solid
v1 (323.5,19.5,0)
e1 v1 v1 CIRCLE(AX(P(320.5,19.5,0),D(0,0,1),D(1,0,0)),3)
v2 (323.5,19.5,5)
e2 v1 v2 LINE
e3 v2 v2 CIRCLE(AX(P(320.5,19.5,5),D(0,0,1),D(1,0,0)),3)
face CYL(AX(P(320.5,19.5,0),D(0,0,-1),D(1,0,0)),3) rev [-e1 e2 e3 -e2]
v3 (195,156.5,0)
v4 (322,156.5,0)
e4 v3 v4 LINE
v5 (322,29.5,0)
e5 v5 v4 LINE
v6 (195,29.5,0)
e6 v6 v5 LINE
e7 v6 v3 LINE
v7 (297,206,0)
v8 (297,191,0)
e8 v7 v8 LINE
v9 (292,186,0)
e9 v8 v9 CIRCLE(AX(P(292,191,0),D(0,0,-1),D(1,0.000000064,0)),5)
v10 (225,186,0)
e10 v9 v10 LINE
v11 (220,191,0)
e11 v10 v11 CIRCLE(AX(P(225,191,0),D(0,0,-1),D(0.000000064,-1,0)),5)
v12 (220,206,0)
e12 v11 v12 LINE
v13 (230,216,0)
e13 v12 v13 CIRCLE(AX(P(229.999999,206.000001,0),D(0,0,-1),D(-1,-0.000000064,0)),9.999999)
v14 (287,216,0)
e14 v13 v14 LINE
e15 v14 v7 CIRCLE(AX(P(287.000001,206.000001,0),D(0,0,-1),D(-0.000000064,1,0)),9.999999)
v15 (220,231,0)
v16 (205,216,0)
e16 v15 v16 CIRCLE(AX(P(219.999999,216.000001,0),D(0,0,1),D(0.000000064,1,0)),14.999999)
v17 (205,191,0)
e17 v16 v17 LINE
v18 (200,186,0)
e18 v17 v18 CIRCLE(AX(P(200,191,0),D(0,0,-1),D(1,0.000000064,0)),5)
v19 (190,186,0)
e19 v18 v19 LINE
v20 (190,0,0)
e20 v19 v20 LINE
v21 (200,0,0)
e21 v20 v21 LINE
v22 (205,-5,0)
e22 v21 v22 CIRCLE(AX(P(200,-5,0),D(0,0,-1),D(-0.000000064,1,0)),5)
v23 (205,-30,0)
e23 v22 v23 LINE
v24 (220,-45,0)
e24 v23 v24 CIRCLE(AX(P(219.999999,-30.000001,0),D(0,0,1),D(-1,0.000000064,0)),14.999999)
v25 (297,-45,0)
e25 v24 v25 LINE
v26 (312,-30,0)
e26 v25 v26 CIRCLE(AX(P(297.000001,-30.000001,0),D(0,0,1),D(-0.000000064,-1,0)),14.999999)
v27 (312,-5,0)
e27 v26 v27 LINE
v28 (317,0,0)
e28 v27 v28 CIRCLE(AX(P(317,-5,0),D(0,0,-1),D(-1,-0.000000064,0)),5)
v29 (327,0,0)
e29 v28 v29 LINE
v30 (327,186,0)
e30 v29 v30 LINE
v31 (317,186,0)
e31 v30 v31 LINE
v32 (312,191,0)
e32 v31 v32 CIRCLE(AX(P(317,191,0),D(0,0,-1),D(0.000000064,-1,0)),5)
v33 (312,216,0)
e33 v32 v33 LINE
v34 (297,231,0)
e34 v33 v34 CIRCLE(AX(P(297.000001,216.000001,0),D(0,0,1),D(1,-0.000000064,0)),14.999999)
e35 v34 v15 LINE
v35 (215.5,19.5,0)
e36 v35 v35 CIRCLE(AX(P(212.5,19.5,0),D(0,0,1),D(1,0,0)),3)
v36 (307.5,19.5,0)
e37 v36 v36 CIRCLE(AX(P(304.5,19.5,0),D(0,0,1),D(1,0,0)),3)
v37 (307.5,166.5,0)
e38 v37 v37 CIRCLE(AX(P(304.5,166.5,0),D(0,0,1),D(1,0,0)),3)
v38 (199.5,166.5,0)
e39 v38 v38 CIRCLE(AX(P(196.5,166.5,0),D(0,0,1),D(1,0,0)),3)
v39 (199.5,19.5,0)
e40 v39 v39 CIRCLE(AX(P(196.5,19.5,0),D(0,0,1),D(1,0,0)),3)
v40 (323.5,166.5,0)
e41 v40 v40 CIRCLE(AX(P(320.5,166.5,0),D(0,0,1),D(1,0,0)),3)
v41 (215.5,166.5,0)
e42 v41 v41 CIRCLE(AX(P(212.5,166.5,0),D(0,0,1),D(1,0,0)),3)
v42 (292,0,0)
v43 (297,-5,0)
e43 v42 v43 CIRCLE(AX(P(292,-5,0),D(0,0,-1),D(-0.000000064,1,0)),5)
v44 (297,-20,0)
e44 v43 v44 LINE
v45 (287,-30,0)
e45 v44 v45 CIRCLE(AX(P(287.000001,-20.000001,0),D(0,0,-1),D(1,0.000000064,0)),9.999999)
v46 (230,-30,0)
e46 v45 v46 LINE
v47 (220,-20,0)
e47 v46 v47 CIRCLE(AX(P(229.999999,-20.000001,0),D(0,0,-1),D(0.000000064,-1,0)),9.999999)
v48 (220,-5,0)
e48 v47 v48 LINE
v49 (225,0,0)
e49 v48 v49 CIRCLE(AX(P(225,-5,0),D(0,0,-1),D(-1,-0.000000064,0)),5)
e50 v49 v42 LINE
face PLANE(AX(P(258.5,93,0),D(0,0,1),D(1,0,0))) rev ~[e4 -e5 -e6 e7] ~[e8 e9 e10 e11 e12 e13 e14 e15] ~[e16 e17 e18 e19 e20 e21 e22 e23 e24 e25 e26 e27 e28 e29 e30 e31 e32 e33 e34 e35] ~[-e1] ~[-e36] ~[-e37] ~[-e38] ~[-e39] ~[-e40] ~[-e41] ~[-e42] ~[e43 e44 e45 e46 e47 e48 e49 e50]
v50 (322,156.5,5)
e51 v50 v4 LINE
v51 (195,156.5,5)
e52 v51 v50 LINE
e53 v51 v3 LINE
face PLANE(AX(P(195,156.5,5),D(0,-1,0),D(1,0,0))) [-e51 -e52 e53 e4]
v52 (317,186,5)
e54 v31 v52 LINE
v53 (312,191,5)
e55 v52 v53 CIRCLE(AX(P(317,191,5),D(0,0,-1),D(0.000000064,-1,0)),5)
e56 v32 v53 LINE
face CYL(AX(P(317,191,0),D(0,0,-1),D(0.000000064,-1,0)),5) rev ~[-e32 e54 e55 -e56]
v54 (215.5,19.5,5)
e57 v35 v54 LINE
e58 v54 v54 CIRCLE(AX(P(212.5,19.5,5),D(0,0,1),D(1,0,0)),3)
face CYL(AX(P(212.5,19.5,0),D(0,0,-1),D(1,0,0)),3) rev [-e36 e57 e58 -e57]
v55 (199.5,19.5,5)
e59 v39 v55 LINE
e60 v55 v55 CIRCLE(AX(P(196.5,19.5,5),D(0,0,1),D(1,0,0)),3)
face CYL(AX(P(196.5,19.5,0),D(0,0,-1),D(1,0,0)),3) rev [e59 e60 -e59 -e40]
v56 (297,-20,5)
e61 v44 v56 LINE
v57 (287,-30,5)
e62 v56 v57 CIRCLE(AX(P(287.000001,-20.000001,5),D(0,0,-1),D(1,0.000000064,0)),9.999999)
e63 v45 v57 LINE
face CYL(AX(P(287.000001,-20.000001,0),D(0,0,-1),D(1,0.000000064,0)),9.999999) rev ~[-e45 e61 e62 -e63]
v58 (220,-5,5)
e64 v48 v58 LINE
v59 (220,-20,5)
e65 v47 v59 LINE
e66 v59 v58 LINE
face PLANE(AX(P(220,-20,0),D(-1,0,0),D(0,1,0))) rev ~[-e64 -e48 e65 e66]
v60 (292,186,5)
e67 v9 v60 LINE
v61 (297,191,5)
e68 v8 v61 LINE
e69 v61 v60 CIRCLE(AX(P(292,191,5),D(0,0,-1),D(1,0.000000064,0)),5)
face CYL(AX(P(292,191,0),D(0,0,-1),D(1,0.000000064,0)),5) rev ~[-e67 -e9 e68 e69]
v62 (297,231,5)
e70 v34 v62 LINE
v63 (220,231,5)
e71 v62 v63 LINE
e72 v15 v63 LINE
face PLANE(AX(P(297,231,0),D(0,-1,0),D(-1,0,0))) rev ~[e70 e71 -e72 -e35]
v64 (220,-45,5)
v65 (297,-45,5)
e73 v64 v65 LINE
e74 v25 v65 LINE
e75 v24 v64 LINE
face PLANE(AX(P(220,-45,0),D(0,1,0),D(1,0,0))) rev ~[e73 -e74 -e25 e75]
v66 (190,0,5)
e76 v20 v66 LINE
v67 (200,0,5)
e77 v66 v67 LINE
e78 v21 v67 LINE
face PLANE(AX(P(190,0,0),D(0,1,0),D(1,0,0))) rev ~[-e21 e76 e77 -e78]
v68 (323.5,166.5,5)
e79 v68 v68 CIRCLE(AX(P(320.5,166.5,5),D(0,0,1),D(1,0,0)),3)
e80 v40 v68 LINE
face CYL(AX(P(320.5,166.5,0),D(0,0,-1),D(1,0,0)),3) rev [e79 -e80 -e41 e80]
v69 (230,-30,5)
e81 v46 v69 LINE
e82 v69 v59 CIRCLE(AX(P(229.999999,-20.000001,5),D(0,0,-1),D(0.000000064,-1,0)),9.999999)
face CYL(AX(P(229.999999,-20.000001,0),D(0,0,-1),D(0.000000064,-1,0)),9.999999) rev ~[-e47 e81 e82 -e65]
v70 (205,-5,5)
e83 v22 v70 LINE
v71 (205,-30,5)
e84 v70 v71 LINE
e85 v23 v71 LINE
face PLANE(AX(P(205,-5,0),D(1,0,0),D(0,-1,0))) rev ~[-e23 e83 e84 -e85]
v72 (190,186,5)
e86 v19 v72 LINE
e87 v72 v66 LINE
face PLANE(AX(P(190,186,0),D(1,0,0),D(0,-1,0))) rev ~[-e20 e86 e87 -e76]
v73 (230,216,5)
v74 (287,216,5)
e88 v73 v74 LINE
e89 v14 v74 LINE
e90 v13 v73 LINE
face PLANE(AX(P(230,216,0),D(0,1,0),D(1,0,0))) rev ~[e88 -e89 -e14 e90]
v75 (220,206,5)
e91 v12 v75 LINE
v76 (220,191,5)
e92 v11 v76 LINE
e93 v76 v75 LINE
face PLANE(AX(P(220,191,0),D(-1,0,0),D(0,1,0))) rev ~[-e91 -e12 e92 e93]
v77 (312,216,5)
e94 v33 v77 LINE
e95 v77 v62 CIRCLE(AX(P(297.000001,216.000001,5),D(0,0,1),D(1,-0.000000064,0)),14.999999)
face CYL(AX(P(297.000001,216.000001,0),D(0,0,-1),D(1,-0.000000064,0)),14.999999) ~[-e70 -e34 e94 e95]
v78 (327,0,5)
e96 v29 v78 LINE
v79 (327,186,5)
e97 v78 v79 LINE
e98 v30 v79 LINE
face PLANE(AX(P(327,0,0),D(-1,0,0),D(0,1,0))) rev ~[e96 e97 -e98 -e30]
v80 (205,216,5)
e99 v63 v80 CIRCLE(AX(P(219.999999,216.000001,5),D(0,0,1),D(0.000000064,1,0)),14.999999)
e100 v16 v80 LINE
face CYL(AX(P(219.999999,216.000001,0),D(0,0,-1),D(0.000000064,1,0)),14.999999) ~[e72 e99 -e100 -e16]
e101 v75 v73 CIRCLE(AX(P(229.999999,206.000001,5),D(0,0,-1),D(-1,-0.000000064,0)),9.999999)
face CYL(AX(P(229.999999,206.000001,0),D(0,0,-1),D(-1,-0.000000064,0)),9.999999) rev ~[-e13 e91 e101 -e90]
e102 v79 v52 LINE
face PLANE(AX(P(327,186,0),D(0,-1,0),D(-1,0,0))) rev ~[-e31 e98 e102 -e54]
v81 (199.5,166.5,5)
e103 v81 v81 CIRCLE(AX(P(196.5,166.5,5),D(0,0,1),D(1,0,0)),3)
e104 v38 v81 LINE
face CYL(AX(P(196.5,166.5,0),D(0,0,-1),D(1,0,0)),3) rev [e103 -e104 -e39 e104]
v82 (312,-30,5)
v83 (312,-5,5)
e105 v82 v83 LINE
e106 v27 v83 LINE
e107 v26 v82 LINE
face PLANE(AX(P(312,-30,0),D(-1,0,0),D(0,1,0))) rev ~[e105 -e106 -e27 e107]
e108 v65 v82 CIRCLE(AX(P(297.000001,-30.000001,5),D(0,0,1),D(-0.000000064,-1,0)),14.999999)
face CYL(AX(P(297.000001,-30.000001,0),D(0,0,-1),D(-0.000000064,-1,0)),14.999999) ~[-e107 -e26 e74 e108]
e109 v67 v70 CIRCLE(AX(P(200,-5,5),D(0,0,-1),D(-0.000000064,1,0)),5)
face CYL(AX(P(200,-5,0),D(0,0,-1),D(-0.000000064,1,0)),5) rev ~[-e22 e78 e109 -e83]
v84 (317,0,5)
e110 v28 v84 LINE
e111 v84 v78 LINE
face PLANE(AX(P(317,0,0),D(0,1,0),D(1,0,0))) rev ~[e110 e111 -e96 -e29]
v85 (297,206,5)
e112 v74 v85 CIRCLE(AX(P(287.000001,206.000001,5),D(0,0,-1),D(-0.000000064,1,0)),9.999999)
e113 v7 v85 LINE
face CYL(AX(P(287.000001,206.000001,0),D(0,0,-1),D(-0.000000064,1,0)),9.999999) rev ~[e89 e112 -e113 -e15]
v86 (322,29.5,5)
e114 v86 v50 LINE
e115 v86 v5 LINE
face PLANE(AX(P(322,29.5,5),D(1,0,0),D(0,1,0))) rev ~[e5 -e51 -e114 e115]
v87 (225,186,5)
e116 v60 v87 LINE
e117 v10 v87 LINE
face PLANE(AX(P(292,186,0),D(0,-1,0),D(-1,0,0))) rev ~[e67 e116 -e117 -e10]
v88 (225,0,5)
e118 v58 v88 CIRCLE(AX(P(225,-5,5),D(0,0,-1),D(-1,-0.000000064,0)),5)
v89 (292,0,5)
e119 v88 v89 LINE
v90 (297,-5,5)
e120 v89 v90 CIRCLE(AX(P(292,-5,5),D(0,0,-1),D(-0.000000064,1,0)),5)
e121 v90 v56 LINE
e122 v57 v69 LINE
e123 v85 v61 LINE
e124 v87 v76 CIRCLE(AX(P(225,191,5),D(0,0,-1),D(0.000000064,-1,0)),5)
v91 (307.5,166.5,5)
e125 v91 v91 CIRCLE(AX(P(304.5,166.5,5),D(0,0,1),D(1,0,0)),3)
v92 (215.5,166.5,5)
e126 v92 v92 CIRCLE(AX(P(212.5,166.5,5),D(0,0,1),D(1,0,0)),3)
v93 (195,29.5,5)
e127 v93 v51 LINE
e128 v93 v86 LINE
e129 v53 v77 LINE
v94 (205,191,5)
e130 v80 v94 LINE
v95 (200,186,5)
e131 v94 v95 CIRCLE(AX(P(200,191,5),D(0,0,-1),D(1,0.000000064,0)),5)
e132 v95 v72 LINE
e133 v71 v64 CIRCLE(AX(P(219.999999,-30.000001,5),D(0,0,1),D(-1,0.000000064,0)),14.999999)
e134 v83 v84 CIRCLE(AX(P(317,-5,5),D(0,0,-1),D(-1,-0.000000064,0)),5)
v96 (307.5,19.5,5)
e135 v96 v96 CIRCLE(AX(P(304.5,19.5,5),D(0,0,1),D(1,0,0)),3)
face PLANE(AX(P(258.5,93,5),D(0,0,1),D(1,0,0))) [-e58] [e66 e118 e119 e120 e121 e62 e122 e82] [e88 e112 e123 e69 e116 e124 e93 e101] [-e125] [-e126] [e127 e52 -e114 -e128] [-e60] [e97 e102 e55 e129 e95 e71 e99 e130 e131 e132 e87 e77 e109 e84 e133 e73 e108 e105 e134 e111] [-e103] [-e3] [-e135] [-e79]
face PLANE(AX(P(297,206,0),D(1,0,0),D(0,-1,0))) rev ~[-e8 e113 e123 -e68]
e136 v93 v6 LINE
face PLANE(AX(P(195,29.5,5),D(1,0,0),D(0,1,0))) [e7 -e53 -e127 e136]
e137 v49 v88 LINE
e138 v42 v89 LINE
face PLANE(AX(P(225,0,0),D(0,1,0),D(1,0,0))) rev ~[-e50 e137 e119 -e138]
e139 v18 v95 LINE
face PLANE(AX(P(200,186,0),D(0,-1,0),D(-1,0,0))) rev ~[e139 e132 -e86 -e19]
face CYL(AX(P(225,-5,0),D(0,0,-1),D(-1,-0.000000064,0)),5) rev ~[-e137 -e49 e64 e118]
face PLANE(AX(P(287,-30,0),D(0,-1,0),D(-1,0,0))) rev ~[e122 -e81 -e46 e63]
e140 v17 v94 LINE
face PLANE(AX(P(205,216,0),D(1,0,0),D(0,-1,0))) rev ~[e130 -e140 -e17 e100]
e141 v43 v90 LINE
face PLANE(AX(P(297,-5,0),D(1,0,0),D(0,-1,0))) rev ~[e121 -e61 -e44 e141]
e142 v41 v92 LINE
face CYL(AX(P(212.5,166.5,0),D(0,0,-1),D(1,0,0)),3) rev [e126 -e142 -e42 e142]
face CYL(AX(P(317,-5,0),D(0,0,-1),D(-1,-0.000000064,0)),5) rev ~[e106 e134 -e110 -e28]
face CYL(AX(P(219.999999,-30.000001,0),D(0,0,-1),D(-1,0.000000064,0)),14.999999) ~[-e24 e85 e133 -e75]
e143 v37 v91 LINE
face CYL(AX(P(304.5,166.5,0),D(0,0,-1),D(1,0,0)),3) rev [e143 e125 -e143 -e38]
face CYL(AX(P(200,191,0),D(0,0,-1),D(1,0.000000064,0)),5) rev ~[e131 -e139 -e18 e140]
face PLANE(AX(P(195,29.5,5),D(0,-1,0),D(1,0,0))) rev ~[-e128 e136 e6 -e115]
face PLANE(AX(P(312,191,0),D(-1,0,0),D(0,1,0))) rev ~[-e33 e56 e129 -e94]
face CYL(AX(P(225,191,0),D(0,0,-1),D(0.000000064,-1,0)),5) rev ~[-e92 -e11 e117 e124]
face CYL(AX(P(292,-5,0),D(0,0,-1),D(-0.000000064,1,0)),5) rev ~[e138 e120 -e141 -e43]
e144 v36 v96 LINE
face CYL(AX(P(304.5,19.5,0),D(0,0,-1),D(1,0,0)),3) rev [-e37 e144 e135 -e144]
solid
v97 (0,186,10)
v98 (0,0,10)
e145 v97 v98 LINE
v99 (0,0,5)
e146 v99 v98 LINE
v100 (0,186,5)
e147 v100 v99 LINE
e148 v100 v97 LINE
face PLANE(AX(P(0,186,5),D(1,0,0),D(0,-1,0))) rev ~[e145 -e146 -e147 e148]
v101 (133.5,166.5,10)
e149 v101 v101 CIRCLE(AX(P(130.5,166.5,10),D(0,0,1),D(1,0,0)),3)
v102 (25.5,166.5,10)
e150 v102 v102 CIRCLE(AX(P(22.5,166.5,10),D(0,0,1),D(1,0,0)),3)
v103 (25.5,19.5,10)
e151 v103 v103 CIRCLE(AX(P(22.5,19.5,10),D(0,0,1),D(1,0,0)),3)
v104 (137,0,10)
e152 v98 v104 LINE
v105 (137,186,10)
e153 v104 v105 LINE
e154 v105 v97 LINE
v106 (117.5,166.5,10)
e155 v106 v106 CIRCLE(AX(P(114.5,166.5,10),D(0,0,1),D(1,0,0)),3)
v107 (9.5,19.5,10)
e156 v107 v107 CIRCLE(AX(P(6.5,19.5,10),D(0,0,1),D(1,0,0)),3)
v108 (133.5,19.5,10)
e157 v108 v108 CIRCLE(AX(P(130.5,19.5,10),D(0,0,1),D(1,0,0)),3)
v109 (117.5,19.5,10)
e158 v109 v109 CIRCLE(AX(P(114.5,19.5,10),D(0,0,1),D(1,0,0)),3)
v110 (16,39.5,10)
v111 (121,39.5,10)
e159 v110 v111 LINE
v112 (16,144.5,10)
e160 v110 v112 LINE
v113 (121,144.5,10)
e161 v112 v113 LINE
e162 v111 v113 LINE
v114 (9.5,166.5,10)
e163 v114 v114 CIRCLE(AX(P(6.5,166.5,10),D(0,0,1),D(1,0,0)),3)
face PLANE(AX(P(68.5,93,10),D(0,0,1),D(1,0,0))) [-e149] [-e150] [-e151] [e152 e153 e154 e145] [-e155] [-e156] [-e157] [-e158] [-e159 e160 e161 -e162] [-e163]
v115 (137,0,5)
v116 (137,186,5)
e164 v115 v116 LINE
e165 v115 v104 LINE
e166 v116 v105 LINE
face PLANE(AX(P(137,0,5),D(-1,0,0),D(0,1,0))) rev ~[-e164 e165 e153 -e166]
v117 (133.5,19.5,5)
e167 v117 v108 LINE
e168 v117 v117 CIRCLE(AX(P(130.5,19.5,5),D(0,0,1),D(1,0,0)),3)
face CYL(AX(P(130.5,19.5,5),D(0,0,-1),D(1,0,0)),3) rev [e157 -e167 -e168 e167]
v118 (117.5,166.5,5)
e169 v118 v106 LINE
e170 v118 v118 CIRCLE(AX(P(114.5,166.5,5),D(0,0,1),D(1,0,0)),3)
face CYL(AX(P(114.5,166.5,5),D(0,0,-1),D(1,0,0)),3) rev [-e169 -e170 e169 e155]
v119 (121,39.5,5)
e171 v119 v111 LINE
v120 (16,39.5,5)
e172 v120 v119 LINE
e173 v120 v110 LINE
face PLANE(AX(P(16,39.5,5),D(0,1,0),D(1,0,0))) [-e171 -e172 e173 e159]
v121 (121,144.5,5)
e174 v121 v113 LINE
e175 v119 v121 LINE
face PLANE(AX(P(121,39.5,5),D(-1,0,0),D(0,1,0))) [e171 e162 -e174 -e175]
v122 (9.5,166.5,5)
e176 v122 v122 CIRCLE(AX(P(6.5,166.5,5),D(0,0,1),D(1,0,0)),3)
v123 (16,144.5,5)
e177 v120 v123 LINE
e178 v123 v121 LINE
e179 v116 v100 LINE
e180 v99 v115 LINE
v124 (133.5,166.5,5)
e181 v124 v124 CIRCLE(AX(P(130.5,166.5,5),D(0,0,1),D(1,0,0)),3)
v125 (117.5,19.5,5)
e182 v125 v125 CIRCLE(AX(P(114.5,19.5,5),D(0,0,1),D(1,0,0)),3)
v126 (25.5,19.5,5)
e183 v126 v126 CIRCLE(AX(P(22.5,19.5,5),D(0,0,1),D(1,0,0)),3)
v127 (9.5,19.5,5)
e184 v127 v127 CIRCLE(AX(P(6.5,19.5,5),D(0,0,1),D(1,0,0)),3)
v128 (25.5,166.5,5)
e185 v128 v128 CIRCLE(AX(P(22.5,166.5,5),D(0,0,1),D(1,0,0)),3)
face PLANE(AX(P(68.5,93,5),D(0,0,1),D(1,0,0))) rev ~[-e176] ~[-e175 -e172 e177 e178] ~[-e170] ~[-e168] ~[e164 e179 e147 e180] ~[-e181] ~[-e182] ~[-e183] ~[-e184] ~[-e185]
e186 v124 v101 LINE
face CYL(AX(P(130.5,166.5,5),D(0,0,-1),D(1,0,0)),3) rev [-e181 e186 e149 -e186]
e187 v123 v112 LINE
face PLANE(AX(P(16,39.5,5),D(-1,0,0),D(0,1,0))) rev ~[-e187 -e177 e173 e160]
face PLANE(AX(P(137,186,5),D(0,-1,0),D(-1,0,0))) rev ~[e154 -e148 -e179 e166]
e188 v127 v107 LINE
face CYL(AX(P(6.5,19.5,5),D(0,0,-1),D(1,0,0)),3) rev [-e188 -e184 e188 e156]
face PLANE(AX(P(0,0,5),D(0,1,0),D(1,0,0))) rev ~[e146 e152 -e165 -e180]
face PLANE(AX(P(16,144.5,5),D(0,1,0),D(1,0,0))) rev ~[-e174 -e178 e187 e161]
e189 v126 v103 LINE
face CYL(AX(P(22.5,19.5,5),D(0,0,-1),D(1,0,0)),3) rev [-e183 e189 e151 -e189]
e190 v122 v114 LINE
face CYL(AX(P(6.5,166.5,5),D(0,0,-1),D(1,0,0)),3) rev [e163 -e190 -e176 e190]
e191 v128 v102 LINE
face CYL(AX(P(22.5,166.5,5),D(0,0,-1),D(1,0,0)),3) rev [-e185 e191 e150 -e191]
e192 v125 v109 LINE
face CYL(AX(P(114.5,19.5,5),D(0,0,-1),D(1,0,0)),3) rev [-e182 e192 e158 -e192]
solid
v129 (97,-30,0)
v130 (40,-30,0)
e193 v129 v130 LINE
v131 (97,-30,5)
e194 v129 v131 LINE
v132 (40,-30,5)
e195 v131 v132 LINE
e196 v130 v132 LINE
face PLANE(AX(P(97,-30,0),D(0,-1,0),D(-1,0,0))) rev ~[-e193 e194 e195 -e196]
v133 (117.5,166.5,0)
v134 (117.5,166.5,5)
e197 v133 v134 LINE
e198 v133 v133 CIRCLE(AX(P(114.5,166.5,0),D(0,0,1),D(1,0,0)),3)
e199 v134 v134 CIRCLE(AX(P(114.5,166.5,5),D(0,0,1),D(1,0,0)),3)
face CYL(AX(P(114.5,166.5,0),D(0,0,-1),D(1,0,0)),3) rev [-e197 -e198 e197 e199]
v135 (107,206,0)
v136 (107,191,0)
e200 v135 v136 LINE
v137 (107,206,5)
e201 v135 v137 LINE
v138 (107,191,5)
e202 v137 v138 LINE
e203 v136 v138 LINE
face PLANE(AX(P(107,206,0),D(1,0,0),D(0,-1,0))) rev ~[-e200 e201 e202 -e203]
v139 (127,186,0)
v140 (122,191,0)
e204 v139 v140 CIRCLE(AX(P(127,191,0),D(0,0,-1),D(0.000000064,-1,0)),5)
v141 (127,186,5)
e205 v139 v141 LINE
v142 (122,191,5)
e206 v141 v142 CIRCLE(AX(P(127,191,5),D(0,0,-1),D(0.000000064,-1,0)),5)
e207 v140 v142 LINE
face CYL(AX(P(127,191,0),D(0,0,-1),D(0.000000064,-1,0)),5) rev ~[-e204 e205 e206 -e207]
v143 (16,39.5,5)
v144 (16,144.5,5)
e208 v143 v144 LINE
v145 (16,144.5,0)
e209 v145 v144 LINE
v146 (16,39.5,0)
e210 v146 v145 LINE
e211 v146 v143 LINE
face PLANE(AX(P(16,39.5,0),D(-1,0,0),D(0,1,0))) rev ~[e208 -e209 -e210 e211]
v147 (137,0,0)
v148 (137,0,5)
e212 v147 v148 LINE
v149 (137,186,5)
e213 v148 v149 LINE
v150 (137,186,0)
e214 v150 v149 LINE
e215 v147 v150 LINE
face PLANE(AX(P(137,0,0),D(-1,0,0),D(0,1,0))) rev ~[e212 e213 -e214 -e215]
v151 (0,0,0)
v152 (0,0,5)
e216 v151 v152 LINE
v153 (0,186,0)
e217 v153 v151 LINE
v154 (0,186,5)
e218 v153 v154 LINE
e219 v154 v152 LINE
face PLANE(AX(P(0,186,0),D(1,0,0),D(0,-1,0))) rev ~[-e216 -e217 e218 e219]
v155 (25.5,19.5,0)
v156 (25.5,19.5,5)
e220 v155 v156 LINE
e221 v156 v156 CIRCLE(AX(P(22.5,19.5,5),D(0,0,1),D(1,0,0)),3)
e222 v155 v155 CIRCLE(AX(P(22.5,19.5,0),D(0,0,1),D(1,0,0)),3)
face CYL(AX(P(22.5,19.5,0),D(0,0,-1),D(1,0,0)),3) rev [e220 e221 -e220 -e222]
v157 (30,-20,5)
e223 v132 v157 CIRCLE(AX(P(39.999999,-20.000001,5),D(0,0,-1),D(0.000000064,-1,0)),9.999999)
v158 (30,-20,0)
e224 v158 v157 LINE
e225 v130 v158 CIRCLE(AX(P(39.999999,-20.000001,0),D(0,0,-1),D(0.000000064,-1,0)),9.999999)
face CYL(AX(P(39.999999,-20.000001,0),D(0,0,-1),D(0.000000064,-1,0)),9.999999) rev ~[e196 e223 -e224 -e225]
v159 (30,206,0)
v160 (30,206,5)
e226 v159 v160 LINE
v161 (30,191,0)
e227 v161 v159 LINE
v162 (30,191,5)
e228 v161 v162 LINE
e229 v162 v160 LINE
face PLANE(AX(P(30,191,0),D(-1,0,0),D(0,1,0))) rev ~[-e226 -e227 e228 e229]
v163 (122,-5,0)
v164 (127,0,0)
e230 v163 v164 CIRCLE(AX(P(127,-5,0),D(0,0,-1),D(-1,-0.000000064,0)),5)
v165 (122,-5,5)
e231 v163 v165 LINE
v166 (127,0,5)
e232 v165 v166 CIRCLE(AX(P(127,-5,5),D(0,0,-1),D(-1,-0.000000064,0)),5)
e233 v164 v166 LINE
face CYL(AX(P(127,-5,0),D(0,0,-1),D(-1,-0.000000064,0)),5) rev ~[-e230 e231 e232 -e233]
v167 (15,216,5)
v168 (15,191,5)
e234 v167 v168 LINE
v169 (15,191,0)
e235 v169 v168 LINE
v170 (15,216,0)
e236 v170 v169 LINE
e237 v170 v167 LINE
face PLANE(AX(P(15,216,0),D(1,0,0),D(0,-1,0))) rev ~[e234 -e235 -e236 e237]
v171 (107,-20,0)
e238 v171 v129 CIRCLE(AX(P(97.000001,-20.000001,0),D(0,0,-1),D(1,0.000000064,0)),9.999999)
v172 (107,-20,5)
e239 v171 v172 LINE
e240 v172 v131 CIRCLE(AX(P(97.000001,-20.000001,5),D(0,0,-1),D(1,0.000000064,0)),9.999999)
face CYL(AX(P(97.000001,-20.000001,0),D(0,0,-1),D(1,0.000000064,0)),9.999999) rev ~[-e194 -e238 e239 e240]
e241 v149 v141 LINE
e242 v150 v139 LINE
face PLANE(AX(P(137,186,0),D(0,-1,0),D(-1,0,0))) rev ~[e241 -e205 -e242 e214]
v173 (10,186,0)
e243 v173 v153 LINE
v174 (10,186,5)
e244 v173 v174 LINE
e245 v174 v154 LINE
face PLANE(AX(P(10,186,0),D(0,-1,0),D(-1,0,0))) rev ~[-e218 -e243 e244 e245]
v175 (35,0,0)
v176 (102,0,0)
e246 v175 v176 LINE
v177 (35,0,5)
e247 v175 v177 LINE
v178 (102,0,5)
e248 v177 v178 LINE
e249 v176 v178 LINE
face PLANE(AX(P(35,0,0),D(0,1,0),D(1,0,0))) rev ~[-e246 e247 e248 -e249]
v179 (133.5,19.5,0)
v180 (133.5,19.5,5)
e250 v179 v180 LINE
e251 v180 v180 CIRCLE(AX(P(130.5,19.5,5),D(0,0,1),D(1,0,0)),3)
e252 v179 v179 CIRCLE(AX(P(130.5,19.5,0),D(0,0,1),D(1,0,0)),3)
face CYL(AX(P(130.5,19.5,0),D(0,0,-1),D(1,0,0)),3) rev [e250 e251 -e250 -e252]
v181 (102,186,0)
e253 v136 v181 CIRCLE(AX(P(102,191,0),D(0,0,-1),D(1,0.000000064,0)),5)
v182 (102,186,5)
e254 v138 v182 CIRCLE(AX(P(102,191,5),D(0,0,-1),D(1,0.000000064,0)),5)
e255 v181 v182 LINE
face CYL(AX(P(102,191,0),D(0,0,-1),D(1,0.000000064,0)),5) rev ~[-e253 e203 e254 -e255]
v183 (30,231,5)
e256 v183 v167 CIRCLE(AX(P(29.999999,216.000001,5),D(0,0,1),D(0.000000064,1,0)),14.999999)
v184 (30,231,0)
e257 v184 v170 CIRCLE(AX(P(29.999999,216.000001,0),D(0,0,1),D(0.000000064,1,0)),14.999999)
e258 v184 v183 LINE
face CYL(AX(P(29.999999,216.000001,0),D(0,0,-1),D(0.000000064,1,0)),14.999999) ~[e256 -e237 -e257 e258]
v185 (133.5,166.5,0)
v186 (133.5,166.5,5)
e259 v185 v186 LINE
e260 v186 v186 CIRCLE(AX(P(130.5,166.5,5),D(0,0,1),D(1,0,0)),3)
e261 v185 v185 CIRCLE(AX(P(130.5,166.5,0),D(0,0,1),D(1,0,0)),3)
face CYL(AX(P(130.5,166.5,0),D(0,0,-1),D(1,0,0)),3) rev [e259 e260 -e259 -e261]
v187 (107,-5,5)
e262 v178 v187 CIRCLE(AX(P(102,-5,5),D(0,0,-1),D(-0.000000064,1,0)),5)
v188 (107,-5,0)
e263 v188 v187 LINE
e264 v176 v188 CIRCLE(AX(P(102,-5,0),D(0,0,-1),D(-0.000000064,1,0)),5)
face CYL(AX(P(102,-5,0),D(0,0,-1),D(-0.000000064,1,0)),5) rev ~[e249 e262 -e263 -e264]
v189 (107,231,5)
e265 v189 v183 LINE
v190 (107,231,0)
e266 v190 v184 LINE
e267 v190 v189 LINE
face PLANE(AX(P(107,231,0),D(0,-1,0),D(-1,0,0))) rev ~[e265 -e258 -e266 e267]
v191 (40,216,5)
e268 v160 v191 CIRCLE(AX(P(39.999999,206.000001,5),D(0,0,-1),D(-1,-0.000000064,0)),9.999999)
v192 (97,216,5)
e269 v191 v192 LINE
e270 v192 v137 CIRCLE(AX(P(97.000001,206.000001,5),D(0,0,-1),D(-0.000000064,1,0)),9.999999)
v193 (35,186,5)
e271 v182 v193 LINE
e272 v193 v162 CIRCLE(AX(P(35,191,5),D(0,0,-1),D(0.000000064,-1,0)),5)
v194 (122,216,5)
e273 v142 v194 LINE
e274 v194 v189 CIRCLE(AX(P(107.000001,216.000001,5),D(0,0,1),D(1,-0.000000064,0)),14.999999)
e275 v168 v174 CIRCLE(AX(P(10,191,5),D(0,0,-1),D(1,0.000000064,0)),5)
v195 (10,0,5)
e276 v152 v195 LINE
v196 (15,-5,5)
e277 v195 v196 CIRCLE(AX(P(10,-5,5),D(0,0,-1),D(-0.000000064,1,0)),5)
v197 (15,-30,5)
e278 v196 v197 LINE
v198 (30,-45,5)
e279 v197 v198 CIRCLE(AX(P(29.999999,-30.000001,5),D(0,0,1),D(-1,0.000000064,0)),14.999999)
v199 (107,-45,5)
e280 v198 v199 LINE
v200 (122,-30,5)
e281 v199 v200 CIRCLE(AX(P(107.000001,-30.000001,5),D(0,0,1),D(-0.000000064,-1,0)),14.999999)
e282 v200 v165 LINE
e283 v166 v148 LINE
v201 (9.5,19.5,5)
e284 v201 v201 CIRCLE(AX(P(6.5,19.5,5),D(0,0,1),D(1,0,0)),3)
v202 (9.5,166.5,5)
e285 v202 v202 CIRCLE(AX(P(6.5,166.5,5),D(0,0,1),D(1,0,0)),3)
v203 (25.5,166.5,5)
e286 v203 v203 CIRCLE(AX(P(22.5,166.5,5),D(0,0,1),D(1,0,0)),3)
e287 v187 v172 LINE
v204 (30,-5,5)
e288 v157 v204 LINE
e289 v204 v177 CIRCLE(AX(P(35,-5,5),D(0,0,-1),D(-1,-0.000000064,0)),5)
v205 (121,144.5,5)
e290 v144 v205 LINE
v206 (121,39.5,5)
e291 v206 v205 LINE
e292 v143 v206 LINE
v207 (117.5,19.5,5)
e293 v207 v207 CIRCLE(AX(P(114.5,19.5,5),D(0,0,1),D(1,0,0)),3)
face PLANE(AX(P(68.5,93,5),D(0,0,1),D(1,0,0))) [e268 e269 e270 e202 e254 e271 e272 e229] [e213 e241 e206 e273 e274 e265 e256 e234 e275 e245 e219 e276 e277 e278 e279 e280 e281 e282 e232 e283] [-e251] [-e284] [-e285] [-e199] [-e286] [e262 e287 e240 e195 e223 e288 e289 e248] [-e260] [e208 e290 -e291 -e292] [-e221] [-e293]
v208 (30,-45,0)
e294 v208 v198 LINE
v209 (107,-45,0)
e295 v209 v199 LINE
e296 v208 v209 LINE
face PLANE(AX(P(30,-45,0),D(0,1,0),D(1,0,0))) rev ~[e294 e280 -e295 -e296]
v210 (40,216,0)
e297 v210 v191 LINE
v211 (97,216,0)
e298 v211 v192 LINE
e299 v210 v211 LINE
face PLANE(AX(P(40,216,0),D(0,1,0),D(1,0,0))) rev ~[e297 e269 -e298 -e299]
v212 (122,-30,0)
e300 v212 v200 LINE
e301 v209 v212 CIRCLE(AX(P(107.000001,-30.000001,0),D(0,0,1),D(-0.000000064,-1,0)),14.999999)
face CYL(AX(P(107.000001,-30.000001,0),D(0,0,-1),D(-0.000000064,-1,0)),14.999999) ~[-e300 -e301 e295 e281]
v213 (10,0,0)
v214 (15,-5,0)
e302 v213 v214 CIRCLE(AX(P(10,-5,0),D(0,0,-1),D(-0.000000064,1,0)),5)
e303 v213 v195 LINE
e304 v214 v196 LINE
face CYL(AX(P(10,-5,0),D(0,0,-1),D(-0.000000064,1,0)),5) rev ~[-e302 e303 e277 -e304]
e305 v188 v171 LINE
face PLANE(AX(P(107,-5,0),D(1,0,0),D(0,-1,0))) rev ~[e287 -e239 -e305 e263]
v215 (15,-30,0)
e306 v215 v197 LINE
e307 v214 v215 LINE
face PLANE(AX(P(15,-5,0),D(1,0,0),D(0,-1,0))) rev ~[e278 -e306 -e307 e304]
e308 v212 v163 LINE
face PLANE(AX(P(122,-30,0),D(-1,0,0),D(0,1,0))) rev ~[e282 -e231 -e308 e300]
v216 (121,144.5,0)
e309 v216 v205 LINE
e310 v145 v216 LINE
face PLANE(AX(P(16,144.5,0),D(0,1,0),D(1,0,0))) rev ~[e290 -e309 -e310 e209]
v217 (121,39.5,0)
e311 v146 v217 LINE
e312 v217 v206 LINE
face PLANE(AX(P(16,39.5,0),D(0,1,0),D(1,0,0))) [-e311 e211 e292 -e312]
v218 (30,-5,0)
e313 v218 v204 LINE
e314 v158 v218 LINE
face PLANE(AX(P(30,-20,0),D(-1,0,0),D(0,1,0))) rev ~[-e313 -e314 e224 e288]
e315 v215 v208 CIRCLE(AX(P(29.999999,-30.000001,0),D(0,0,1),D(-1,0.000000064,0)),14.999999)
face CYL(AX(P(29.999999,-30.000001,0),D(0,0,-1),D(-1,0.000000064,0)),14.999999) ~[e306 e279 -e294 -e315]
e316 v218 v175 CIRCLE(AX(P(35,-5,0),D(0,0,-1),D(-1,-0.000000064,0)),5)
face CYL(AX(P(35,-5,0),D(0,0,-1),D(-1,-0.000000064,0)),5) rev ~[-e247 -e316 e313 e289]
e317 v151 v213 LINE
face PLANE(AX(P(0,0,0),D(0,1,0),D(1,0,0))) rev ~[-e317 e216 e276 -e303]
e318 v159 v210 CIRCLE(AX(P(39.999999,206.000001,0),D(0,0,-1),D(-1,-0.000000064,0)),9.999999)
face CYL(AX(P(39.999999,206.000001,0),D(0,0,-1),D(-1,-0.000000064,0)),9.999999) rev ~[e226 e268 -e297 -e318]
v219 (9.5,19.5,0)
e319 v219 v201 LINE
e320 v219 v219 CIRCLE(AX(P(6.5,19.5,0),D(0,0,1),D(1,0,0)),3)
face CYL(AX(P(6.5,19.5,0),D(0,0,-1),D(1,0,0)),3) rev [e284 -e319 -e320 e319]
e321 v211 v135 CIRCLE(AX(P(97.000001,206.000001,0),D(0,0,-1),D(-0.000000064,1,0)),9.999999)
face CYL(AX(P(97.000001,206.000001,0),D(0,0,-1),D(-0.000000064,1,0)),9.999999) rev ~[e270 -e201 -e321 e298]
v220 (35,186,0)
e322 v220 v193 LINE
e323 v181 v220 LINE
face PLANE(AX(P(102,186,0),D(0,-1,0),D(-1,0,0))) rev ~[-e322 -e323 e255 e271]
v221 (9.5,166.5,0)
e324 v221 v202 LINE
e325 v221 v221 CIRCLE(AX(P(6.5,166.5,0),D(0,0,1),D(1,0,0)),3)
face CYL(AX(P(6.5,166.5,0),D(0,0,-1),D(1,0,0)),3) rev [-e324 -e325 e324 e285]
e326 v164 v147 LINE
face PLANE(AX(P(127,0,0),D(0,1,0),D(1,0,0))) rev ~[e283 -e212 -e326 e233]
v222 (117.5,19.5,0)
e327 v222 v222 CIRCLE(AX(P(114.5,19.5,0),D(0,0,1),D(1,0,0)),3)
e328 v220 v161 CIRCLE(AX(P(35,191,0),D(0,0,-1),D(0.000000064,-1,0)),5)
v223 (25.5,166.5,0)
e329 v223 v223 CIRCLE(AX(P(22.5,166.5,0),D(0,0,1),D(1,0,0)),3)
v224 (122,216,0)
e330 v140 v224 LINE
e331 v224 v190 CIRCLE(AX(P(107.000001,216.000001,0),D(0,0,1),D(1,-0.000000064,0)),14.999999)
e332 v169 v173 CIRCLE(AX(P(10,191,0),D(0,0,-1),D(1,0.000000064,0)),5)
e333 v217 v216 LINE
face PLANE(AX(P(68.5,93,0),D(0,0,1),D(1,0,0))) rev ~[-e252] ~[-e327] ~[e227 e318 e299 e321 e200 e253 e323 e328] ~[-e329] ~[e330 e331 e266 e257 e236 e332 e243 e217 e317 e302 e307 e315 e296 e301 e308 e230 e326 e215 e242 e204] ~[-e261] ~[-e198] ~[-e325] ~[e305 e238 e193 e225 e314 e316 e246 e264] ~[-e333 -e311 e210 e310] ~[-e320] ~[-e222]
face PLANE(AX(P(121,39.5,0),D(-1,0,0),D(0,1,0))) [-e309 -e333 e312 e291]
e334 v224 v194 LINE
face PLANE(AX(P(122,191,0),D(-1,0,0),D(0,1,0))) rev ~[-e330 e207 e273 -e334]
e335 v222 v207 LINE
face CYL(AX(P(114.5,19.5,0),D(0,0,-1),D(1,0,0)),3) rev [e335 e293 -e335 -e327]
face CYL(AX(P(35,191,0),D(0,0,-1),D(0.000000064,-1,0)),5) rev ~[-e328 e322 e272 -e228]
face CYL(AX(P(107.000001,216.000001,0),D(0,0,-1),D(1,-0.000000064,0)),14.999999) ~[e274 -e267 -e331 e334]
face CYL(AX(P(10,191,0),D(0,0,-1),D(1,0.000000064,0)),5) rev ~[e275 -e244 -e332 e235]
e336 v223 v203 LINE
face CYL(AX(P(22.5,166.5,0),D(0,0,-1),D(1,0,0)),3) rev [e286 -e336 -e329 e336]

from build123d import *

# Parameters (mm, degrees)
F0_R     = 3
F0_W     = 105
F0_H     = 105
F1_DEPTH = 5
F2_R     = 3
F3_DEPTH = 5
F4_W     = 127
F4_H     = 127
F5_DEPTH = 5
F6_R     = 3
F6_W     = 105
F6_H     = 105
F7_DEPTH = 5


with BuildPart() as f1:
    # F0 (on Top) → F1 (new body)
    with BuildSketch(Plane.XY):
        Polygon((0, 186), (0, 0), (10, 0), (35, 0), (102, 0), (127, 0), (137, 0), (137, 186), (127, 186), (102, 186), (35, 186), (10, 186), align=None)
        with Locations((6.5, 19.5)):
            Circle(F0_R, mode=Mode.SUBTRACT)
        with Locations((22.5, 19.5)):
            Circle(F0_R, mode=Mode.SUBTRACT)
        with Locations((114.5, 19.5)):
            Circle(F0_R, mode=Mode.SUBTRACT)
        with Locations((130.5, 19.5)):
            Circle(F0_R, mode=Mode.SUBTRACT)
        with Locations((68.5, 92)):
            Rectangle(F0_W, F0_H, mode=Mode.SUBTRACT)
        with Locations((6.5, 166.5)):
            Circle(F0_R, mode=Mode.SUBTRACT)
        with Locations((22.5, 166.5)):
            Circle(F0_R, mode=Mode.SUBTRACT)
        with Locations((114.5, 166.5)):
            Circle(F0_R, mode=Mode.SUBTRACT)
        with Locations((130.5, 166.5)):
            Circle(F0_R, mode=Mode.SUBTRACT)
        with BuildLine():
            ThreePointArc((15, 191), (13.535534, 187.464466), (10, 186))
            Line((10, 186), (35, 186))
            ThreePointArc((35, 186), (31.464466, 187.464466), (30, 191))
            Line((30, 191), (30, 206))
            ThreePointArc((30, 206), (32.928932, 213.071068), (40, 216))
            Line((40, 216), (97, 216))
            ThreePointArc((97, 216), (104.071068, 213.071068), (107, 206))
            Line((107, 206), (107, 191))
            ThreePointArc((107, 191), (105.535534, 187.464466), (102, 186))
            Line((102, 186), (127, 186))
            ThreePointArc((127, 186), (123.464466, 187.464466), (122, 191))
            Line((122, 191), (122, 216))
            ThreePointArc((122, 216), (117.606602, 226.606602), (107, 231))
            Line((107, 231), (30, 231))
            ThreePointArc((30, 231), (19.393398, 226.606602), (15, 216))
            Line((15, 216), (15, 191))
        make_face()
        with BuildLine():
            Line((35, 0), (10, 0))
            ThreePointArc((10, 0), (13.535534, -1.464466), (15, -5))
            Line((15, -5), (15, -30))
            ThreePointArc((15, -30), (19.393398, -40.606602), (30, -45))
            Line((30, -45), (107, -45))
            ThreePointArc((107, -45), (117.606602, -40.606602), (122, -30))
            Line((122, -30), (122, -5))
            ThreePointArc((122, -5), (123.464466, -1.464466), (127, 0))
            Line((127, 0), (102, 0))
            ThreePointArc((102, 0), (105.535534, -1.464466), (107, -5))
            Line((107, -5), (107, -20))
            ThreePointArc((107, -20), (104.071068, -27.071068), (97, -30))
            Line((97, -30), (40, -30))
            ThreePointArc((40, -30), (32.928932, -27.071068), (30, -20))
            Line((30, -20), (30, -5))
            ThreePointArc((30, -5), (31.464466, -1.464466), (35, 0))
        make_face()
    extrude(amount=F1_DEPTH)


with BuildPart() as f3:
    # F2 (on Top) → F3 (new body)
    with BuildSketch(Plane.XY):
        Polygon((190, 186), (190, 0), (200, 0), (225, 0), (292, 0), (317, 0), (327, 0), (327, 186), (317, 186), (292, 186), (225, 186), (200, 186), align=None)
        with Locations((196.5, 19.5)):
            Circle(F2_R, mode=Mode.SUBTRACT)
        with Locations((212.5, 19.5)):
            Circle(F2_R, mode=Mode.SUBTRACT)
        with Locations((304.5, 19.5)):
            Circle(F2_R, mode=Mode.SUBTRACT)
        with Locations((320.5, 19.5)):
            Circle(F2_R, mode=Mode.SUBTRACT)
        with Locations((196.5, 166.5)):
            Circle(F2_R, mode=Mode.SUBTRACT)
        with Locations((212.5, 166.5)):
            Circle(F2_R, mode=Mode.SUBTRACT)
        with Locations((304.5, 166.5)):
            Circle(F2_R, mode=Mode.SUBTRACT)
        with Locations((320.5, 166.5)):
            Circle(F2_R, mode=Mode.SUBTRACT)
        with BuildLine():
            ThreePointArc((205, 191), (203.535534, 187.464466), (200, 186))
            Line((200, 186), (225, 186))
            ThreePointArc((225, 186), (221.464466, 187.464466), (220, 191))
            Line((220, 191), (220, 206))
            ThreePointArc((220, 206), (222.928932, 213.071068), (230, 216))
            Line((230, 216), (287, 216))
            ThreePointArc((287, 216), (294.071068, 213.071068), (297, 206))
            Line((297, 206), (297, 191))
            ThreePointArc((297, 191), (295.535534, 187.464466), (292, 186))
            Line((292, 186), (317, 186))
            ThreePointArc((317, 186), (313.464466, 187.464466), (312, 191))
            Line((312, 191), (312, 216))
            ThreePointArc((312, 216), (307.606602, 226.606602), (297, 231))
            Line((297, 231), (220, 231))
            ThreePointArc((220, 231), (209.393398, 226.606602), (205, 216))
            Line((205, 216), (205, 191))
        make_face()
        with BuildLine():
            Line((225, 0), (200, 0))
            ThreePointArc((200, 0), (203.535534, -1.464466), (205, -5))
            Line((205, -5), (205, -30))
            ThreePointArc((205, -30), (209.393398, -40.606602), (220, -45))
            Line((220, -45), (297, -45))
            ThreePointArc((297, -45), (307.606602, -40.606602), (312, -30))
            Line((312, -30), (312, -5))
            ThreePointArc((312, -5), (313.464466, -1.464466), (317, 0))
            Line((317, 0), (292, 0))
            ThreePointArc((292, 0), (295.535534, -1.464466), (297, -5))
            Line((297, -5), (297, -20))
            ThreePointArc((297, -20), (294.071068, -27.071068), (287, -30))
            Line((287, -30), (230, -30))
            ThreePointArc((230, -30), (222.928932, -27.071068), (220, -20))
            Line((220, -20), (220, -5))
            ThreePointArc((220, -5), (221.464466, -1.464466), (225, 0))
        make_face()
    extrude(amount=F3_DEPTH)

    # F4 (on face) → F5 (cut)
    with BuildSketch(Plane.XY.offset(5)):
        with Locations((258.5, 93)):
            Rectangle(F4_W, F4_H)
    extrude(amount=-F5_DEPTH, mode=Mode.SUBTRACT)


with BuildPart() as f7:
    # F6 (on face) → F7 (new body)
    with BuildSketch(Plane.XY.offset(5)):
        Polygon((10, 186), (0, 186), (0, 0), (10, 0), (35, 0), (102, 0), (127, 0), (137, 0), (137, 186), (127, 186), (102, 186), (35, 186), align=None)
        with Locations((6.5, 19.5)):
            Circle(F6_R, mode=Mode.SUBTRACT)
        with Locations((22.5, 19.5)):
            Circle(F6_R, mode=Mode.SUBTRACT)
        with Locations((114.5, 19.5)):
            Circle(F6_R, mode=Mode.SUBTRACT)
        with Locations((130.5, 19.5)):
            Circle(F6_R, mode=Mode.SUBTRACT)
        with Locations((68.5, 92)):
            Rectangle(F6_W, F6_H, mode=Mode.SUBTRACT)
        with Locations((6.5, 166.5)):
            Circle(F6_R, mode=Mode.SUBTRACT)
        with Locations((22.5, 166.5)):
            Circle(F6_R, mode=Mode.SUBTRACT)
        with Locations((114.5, 166.5)):
            Circle(F6_R, mode=Mode.SUBTRACT)
        with Locations((130.5, 166.5)):
            Circle(F6_R, mode=Mode.SUBTRACT)
    extrude(amount=F7_DEPTH)


solid = Compound([f1.part, f3.part, f7.part])
